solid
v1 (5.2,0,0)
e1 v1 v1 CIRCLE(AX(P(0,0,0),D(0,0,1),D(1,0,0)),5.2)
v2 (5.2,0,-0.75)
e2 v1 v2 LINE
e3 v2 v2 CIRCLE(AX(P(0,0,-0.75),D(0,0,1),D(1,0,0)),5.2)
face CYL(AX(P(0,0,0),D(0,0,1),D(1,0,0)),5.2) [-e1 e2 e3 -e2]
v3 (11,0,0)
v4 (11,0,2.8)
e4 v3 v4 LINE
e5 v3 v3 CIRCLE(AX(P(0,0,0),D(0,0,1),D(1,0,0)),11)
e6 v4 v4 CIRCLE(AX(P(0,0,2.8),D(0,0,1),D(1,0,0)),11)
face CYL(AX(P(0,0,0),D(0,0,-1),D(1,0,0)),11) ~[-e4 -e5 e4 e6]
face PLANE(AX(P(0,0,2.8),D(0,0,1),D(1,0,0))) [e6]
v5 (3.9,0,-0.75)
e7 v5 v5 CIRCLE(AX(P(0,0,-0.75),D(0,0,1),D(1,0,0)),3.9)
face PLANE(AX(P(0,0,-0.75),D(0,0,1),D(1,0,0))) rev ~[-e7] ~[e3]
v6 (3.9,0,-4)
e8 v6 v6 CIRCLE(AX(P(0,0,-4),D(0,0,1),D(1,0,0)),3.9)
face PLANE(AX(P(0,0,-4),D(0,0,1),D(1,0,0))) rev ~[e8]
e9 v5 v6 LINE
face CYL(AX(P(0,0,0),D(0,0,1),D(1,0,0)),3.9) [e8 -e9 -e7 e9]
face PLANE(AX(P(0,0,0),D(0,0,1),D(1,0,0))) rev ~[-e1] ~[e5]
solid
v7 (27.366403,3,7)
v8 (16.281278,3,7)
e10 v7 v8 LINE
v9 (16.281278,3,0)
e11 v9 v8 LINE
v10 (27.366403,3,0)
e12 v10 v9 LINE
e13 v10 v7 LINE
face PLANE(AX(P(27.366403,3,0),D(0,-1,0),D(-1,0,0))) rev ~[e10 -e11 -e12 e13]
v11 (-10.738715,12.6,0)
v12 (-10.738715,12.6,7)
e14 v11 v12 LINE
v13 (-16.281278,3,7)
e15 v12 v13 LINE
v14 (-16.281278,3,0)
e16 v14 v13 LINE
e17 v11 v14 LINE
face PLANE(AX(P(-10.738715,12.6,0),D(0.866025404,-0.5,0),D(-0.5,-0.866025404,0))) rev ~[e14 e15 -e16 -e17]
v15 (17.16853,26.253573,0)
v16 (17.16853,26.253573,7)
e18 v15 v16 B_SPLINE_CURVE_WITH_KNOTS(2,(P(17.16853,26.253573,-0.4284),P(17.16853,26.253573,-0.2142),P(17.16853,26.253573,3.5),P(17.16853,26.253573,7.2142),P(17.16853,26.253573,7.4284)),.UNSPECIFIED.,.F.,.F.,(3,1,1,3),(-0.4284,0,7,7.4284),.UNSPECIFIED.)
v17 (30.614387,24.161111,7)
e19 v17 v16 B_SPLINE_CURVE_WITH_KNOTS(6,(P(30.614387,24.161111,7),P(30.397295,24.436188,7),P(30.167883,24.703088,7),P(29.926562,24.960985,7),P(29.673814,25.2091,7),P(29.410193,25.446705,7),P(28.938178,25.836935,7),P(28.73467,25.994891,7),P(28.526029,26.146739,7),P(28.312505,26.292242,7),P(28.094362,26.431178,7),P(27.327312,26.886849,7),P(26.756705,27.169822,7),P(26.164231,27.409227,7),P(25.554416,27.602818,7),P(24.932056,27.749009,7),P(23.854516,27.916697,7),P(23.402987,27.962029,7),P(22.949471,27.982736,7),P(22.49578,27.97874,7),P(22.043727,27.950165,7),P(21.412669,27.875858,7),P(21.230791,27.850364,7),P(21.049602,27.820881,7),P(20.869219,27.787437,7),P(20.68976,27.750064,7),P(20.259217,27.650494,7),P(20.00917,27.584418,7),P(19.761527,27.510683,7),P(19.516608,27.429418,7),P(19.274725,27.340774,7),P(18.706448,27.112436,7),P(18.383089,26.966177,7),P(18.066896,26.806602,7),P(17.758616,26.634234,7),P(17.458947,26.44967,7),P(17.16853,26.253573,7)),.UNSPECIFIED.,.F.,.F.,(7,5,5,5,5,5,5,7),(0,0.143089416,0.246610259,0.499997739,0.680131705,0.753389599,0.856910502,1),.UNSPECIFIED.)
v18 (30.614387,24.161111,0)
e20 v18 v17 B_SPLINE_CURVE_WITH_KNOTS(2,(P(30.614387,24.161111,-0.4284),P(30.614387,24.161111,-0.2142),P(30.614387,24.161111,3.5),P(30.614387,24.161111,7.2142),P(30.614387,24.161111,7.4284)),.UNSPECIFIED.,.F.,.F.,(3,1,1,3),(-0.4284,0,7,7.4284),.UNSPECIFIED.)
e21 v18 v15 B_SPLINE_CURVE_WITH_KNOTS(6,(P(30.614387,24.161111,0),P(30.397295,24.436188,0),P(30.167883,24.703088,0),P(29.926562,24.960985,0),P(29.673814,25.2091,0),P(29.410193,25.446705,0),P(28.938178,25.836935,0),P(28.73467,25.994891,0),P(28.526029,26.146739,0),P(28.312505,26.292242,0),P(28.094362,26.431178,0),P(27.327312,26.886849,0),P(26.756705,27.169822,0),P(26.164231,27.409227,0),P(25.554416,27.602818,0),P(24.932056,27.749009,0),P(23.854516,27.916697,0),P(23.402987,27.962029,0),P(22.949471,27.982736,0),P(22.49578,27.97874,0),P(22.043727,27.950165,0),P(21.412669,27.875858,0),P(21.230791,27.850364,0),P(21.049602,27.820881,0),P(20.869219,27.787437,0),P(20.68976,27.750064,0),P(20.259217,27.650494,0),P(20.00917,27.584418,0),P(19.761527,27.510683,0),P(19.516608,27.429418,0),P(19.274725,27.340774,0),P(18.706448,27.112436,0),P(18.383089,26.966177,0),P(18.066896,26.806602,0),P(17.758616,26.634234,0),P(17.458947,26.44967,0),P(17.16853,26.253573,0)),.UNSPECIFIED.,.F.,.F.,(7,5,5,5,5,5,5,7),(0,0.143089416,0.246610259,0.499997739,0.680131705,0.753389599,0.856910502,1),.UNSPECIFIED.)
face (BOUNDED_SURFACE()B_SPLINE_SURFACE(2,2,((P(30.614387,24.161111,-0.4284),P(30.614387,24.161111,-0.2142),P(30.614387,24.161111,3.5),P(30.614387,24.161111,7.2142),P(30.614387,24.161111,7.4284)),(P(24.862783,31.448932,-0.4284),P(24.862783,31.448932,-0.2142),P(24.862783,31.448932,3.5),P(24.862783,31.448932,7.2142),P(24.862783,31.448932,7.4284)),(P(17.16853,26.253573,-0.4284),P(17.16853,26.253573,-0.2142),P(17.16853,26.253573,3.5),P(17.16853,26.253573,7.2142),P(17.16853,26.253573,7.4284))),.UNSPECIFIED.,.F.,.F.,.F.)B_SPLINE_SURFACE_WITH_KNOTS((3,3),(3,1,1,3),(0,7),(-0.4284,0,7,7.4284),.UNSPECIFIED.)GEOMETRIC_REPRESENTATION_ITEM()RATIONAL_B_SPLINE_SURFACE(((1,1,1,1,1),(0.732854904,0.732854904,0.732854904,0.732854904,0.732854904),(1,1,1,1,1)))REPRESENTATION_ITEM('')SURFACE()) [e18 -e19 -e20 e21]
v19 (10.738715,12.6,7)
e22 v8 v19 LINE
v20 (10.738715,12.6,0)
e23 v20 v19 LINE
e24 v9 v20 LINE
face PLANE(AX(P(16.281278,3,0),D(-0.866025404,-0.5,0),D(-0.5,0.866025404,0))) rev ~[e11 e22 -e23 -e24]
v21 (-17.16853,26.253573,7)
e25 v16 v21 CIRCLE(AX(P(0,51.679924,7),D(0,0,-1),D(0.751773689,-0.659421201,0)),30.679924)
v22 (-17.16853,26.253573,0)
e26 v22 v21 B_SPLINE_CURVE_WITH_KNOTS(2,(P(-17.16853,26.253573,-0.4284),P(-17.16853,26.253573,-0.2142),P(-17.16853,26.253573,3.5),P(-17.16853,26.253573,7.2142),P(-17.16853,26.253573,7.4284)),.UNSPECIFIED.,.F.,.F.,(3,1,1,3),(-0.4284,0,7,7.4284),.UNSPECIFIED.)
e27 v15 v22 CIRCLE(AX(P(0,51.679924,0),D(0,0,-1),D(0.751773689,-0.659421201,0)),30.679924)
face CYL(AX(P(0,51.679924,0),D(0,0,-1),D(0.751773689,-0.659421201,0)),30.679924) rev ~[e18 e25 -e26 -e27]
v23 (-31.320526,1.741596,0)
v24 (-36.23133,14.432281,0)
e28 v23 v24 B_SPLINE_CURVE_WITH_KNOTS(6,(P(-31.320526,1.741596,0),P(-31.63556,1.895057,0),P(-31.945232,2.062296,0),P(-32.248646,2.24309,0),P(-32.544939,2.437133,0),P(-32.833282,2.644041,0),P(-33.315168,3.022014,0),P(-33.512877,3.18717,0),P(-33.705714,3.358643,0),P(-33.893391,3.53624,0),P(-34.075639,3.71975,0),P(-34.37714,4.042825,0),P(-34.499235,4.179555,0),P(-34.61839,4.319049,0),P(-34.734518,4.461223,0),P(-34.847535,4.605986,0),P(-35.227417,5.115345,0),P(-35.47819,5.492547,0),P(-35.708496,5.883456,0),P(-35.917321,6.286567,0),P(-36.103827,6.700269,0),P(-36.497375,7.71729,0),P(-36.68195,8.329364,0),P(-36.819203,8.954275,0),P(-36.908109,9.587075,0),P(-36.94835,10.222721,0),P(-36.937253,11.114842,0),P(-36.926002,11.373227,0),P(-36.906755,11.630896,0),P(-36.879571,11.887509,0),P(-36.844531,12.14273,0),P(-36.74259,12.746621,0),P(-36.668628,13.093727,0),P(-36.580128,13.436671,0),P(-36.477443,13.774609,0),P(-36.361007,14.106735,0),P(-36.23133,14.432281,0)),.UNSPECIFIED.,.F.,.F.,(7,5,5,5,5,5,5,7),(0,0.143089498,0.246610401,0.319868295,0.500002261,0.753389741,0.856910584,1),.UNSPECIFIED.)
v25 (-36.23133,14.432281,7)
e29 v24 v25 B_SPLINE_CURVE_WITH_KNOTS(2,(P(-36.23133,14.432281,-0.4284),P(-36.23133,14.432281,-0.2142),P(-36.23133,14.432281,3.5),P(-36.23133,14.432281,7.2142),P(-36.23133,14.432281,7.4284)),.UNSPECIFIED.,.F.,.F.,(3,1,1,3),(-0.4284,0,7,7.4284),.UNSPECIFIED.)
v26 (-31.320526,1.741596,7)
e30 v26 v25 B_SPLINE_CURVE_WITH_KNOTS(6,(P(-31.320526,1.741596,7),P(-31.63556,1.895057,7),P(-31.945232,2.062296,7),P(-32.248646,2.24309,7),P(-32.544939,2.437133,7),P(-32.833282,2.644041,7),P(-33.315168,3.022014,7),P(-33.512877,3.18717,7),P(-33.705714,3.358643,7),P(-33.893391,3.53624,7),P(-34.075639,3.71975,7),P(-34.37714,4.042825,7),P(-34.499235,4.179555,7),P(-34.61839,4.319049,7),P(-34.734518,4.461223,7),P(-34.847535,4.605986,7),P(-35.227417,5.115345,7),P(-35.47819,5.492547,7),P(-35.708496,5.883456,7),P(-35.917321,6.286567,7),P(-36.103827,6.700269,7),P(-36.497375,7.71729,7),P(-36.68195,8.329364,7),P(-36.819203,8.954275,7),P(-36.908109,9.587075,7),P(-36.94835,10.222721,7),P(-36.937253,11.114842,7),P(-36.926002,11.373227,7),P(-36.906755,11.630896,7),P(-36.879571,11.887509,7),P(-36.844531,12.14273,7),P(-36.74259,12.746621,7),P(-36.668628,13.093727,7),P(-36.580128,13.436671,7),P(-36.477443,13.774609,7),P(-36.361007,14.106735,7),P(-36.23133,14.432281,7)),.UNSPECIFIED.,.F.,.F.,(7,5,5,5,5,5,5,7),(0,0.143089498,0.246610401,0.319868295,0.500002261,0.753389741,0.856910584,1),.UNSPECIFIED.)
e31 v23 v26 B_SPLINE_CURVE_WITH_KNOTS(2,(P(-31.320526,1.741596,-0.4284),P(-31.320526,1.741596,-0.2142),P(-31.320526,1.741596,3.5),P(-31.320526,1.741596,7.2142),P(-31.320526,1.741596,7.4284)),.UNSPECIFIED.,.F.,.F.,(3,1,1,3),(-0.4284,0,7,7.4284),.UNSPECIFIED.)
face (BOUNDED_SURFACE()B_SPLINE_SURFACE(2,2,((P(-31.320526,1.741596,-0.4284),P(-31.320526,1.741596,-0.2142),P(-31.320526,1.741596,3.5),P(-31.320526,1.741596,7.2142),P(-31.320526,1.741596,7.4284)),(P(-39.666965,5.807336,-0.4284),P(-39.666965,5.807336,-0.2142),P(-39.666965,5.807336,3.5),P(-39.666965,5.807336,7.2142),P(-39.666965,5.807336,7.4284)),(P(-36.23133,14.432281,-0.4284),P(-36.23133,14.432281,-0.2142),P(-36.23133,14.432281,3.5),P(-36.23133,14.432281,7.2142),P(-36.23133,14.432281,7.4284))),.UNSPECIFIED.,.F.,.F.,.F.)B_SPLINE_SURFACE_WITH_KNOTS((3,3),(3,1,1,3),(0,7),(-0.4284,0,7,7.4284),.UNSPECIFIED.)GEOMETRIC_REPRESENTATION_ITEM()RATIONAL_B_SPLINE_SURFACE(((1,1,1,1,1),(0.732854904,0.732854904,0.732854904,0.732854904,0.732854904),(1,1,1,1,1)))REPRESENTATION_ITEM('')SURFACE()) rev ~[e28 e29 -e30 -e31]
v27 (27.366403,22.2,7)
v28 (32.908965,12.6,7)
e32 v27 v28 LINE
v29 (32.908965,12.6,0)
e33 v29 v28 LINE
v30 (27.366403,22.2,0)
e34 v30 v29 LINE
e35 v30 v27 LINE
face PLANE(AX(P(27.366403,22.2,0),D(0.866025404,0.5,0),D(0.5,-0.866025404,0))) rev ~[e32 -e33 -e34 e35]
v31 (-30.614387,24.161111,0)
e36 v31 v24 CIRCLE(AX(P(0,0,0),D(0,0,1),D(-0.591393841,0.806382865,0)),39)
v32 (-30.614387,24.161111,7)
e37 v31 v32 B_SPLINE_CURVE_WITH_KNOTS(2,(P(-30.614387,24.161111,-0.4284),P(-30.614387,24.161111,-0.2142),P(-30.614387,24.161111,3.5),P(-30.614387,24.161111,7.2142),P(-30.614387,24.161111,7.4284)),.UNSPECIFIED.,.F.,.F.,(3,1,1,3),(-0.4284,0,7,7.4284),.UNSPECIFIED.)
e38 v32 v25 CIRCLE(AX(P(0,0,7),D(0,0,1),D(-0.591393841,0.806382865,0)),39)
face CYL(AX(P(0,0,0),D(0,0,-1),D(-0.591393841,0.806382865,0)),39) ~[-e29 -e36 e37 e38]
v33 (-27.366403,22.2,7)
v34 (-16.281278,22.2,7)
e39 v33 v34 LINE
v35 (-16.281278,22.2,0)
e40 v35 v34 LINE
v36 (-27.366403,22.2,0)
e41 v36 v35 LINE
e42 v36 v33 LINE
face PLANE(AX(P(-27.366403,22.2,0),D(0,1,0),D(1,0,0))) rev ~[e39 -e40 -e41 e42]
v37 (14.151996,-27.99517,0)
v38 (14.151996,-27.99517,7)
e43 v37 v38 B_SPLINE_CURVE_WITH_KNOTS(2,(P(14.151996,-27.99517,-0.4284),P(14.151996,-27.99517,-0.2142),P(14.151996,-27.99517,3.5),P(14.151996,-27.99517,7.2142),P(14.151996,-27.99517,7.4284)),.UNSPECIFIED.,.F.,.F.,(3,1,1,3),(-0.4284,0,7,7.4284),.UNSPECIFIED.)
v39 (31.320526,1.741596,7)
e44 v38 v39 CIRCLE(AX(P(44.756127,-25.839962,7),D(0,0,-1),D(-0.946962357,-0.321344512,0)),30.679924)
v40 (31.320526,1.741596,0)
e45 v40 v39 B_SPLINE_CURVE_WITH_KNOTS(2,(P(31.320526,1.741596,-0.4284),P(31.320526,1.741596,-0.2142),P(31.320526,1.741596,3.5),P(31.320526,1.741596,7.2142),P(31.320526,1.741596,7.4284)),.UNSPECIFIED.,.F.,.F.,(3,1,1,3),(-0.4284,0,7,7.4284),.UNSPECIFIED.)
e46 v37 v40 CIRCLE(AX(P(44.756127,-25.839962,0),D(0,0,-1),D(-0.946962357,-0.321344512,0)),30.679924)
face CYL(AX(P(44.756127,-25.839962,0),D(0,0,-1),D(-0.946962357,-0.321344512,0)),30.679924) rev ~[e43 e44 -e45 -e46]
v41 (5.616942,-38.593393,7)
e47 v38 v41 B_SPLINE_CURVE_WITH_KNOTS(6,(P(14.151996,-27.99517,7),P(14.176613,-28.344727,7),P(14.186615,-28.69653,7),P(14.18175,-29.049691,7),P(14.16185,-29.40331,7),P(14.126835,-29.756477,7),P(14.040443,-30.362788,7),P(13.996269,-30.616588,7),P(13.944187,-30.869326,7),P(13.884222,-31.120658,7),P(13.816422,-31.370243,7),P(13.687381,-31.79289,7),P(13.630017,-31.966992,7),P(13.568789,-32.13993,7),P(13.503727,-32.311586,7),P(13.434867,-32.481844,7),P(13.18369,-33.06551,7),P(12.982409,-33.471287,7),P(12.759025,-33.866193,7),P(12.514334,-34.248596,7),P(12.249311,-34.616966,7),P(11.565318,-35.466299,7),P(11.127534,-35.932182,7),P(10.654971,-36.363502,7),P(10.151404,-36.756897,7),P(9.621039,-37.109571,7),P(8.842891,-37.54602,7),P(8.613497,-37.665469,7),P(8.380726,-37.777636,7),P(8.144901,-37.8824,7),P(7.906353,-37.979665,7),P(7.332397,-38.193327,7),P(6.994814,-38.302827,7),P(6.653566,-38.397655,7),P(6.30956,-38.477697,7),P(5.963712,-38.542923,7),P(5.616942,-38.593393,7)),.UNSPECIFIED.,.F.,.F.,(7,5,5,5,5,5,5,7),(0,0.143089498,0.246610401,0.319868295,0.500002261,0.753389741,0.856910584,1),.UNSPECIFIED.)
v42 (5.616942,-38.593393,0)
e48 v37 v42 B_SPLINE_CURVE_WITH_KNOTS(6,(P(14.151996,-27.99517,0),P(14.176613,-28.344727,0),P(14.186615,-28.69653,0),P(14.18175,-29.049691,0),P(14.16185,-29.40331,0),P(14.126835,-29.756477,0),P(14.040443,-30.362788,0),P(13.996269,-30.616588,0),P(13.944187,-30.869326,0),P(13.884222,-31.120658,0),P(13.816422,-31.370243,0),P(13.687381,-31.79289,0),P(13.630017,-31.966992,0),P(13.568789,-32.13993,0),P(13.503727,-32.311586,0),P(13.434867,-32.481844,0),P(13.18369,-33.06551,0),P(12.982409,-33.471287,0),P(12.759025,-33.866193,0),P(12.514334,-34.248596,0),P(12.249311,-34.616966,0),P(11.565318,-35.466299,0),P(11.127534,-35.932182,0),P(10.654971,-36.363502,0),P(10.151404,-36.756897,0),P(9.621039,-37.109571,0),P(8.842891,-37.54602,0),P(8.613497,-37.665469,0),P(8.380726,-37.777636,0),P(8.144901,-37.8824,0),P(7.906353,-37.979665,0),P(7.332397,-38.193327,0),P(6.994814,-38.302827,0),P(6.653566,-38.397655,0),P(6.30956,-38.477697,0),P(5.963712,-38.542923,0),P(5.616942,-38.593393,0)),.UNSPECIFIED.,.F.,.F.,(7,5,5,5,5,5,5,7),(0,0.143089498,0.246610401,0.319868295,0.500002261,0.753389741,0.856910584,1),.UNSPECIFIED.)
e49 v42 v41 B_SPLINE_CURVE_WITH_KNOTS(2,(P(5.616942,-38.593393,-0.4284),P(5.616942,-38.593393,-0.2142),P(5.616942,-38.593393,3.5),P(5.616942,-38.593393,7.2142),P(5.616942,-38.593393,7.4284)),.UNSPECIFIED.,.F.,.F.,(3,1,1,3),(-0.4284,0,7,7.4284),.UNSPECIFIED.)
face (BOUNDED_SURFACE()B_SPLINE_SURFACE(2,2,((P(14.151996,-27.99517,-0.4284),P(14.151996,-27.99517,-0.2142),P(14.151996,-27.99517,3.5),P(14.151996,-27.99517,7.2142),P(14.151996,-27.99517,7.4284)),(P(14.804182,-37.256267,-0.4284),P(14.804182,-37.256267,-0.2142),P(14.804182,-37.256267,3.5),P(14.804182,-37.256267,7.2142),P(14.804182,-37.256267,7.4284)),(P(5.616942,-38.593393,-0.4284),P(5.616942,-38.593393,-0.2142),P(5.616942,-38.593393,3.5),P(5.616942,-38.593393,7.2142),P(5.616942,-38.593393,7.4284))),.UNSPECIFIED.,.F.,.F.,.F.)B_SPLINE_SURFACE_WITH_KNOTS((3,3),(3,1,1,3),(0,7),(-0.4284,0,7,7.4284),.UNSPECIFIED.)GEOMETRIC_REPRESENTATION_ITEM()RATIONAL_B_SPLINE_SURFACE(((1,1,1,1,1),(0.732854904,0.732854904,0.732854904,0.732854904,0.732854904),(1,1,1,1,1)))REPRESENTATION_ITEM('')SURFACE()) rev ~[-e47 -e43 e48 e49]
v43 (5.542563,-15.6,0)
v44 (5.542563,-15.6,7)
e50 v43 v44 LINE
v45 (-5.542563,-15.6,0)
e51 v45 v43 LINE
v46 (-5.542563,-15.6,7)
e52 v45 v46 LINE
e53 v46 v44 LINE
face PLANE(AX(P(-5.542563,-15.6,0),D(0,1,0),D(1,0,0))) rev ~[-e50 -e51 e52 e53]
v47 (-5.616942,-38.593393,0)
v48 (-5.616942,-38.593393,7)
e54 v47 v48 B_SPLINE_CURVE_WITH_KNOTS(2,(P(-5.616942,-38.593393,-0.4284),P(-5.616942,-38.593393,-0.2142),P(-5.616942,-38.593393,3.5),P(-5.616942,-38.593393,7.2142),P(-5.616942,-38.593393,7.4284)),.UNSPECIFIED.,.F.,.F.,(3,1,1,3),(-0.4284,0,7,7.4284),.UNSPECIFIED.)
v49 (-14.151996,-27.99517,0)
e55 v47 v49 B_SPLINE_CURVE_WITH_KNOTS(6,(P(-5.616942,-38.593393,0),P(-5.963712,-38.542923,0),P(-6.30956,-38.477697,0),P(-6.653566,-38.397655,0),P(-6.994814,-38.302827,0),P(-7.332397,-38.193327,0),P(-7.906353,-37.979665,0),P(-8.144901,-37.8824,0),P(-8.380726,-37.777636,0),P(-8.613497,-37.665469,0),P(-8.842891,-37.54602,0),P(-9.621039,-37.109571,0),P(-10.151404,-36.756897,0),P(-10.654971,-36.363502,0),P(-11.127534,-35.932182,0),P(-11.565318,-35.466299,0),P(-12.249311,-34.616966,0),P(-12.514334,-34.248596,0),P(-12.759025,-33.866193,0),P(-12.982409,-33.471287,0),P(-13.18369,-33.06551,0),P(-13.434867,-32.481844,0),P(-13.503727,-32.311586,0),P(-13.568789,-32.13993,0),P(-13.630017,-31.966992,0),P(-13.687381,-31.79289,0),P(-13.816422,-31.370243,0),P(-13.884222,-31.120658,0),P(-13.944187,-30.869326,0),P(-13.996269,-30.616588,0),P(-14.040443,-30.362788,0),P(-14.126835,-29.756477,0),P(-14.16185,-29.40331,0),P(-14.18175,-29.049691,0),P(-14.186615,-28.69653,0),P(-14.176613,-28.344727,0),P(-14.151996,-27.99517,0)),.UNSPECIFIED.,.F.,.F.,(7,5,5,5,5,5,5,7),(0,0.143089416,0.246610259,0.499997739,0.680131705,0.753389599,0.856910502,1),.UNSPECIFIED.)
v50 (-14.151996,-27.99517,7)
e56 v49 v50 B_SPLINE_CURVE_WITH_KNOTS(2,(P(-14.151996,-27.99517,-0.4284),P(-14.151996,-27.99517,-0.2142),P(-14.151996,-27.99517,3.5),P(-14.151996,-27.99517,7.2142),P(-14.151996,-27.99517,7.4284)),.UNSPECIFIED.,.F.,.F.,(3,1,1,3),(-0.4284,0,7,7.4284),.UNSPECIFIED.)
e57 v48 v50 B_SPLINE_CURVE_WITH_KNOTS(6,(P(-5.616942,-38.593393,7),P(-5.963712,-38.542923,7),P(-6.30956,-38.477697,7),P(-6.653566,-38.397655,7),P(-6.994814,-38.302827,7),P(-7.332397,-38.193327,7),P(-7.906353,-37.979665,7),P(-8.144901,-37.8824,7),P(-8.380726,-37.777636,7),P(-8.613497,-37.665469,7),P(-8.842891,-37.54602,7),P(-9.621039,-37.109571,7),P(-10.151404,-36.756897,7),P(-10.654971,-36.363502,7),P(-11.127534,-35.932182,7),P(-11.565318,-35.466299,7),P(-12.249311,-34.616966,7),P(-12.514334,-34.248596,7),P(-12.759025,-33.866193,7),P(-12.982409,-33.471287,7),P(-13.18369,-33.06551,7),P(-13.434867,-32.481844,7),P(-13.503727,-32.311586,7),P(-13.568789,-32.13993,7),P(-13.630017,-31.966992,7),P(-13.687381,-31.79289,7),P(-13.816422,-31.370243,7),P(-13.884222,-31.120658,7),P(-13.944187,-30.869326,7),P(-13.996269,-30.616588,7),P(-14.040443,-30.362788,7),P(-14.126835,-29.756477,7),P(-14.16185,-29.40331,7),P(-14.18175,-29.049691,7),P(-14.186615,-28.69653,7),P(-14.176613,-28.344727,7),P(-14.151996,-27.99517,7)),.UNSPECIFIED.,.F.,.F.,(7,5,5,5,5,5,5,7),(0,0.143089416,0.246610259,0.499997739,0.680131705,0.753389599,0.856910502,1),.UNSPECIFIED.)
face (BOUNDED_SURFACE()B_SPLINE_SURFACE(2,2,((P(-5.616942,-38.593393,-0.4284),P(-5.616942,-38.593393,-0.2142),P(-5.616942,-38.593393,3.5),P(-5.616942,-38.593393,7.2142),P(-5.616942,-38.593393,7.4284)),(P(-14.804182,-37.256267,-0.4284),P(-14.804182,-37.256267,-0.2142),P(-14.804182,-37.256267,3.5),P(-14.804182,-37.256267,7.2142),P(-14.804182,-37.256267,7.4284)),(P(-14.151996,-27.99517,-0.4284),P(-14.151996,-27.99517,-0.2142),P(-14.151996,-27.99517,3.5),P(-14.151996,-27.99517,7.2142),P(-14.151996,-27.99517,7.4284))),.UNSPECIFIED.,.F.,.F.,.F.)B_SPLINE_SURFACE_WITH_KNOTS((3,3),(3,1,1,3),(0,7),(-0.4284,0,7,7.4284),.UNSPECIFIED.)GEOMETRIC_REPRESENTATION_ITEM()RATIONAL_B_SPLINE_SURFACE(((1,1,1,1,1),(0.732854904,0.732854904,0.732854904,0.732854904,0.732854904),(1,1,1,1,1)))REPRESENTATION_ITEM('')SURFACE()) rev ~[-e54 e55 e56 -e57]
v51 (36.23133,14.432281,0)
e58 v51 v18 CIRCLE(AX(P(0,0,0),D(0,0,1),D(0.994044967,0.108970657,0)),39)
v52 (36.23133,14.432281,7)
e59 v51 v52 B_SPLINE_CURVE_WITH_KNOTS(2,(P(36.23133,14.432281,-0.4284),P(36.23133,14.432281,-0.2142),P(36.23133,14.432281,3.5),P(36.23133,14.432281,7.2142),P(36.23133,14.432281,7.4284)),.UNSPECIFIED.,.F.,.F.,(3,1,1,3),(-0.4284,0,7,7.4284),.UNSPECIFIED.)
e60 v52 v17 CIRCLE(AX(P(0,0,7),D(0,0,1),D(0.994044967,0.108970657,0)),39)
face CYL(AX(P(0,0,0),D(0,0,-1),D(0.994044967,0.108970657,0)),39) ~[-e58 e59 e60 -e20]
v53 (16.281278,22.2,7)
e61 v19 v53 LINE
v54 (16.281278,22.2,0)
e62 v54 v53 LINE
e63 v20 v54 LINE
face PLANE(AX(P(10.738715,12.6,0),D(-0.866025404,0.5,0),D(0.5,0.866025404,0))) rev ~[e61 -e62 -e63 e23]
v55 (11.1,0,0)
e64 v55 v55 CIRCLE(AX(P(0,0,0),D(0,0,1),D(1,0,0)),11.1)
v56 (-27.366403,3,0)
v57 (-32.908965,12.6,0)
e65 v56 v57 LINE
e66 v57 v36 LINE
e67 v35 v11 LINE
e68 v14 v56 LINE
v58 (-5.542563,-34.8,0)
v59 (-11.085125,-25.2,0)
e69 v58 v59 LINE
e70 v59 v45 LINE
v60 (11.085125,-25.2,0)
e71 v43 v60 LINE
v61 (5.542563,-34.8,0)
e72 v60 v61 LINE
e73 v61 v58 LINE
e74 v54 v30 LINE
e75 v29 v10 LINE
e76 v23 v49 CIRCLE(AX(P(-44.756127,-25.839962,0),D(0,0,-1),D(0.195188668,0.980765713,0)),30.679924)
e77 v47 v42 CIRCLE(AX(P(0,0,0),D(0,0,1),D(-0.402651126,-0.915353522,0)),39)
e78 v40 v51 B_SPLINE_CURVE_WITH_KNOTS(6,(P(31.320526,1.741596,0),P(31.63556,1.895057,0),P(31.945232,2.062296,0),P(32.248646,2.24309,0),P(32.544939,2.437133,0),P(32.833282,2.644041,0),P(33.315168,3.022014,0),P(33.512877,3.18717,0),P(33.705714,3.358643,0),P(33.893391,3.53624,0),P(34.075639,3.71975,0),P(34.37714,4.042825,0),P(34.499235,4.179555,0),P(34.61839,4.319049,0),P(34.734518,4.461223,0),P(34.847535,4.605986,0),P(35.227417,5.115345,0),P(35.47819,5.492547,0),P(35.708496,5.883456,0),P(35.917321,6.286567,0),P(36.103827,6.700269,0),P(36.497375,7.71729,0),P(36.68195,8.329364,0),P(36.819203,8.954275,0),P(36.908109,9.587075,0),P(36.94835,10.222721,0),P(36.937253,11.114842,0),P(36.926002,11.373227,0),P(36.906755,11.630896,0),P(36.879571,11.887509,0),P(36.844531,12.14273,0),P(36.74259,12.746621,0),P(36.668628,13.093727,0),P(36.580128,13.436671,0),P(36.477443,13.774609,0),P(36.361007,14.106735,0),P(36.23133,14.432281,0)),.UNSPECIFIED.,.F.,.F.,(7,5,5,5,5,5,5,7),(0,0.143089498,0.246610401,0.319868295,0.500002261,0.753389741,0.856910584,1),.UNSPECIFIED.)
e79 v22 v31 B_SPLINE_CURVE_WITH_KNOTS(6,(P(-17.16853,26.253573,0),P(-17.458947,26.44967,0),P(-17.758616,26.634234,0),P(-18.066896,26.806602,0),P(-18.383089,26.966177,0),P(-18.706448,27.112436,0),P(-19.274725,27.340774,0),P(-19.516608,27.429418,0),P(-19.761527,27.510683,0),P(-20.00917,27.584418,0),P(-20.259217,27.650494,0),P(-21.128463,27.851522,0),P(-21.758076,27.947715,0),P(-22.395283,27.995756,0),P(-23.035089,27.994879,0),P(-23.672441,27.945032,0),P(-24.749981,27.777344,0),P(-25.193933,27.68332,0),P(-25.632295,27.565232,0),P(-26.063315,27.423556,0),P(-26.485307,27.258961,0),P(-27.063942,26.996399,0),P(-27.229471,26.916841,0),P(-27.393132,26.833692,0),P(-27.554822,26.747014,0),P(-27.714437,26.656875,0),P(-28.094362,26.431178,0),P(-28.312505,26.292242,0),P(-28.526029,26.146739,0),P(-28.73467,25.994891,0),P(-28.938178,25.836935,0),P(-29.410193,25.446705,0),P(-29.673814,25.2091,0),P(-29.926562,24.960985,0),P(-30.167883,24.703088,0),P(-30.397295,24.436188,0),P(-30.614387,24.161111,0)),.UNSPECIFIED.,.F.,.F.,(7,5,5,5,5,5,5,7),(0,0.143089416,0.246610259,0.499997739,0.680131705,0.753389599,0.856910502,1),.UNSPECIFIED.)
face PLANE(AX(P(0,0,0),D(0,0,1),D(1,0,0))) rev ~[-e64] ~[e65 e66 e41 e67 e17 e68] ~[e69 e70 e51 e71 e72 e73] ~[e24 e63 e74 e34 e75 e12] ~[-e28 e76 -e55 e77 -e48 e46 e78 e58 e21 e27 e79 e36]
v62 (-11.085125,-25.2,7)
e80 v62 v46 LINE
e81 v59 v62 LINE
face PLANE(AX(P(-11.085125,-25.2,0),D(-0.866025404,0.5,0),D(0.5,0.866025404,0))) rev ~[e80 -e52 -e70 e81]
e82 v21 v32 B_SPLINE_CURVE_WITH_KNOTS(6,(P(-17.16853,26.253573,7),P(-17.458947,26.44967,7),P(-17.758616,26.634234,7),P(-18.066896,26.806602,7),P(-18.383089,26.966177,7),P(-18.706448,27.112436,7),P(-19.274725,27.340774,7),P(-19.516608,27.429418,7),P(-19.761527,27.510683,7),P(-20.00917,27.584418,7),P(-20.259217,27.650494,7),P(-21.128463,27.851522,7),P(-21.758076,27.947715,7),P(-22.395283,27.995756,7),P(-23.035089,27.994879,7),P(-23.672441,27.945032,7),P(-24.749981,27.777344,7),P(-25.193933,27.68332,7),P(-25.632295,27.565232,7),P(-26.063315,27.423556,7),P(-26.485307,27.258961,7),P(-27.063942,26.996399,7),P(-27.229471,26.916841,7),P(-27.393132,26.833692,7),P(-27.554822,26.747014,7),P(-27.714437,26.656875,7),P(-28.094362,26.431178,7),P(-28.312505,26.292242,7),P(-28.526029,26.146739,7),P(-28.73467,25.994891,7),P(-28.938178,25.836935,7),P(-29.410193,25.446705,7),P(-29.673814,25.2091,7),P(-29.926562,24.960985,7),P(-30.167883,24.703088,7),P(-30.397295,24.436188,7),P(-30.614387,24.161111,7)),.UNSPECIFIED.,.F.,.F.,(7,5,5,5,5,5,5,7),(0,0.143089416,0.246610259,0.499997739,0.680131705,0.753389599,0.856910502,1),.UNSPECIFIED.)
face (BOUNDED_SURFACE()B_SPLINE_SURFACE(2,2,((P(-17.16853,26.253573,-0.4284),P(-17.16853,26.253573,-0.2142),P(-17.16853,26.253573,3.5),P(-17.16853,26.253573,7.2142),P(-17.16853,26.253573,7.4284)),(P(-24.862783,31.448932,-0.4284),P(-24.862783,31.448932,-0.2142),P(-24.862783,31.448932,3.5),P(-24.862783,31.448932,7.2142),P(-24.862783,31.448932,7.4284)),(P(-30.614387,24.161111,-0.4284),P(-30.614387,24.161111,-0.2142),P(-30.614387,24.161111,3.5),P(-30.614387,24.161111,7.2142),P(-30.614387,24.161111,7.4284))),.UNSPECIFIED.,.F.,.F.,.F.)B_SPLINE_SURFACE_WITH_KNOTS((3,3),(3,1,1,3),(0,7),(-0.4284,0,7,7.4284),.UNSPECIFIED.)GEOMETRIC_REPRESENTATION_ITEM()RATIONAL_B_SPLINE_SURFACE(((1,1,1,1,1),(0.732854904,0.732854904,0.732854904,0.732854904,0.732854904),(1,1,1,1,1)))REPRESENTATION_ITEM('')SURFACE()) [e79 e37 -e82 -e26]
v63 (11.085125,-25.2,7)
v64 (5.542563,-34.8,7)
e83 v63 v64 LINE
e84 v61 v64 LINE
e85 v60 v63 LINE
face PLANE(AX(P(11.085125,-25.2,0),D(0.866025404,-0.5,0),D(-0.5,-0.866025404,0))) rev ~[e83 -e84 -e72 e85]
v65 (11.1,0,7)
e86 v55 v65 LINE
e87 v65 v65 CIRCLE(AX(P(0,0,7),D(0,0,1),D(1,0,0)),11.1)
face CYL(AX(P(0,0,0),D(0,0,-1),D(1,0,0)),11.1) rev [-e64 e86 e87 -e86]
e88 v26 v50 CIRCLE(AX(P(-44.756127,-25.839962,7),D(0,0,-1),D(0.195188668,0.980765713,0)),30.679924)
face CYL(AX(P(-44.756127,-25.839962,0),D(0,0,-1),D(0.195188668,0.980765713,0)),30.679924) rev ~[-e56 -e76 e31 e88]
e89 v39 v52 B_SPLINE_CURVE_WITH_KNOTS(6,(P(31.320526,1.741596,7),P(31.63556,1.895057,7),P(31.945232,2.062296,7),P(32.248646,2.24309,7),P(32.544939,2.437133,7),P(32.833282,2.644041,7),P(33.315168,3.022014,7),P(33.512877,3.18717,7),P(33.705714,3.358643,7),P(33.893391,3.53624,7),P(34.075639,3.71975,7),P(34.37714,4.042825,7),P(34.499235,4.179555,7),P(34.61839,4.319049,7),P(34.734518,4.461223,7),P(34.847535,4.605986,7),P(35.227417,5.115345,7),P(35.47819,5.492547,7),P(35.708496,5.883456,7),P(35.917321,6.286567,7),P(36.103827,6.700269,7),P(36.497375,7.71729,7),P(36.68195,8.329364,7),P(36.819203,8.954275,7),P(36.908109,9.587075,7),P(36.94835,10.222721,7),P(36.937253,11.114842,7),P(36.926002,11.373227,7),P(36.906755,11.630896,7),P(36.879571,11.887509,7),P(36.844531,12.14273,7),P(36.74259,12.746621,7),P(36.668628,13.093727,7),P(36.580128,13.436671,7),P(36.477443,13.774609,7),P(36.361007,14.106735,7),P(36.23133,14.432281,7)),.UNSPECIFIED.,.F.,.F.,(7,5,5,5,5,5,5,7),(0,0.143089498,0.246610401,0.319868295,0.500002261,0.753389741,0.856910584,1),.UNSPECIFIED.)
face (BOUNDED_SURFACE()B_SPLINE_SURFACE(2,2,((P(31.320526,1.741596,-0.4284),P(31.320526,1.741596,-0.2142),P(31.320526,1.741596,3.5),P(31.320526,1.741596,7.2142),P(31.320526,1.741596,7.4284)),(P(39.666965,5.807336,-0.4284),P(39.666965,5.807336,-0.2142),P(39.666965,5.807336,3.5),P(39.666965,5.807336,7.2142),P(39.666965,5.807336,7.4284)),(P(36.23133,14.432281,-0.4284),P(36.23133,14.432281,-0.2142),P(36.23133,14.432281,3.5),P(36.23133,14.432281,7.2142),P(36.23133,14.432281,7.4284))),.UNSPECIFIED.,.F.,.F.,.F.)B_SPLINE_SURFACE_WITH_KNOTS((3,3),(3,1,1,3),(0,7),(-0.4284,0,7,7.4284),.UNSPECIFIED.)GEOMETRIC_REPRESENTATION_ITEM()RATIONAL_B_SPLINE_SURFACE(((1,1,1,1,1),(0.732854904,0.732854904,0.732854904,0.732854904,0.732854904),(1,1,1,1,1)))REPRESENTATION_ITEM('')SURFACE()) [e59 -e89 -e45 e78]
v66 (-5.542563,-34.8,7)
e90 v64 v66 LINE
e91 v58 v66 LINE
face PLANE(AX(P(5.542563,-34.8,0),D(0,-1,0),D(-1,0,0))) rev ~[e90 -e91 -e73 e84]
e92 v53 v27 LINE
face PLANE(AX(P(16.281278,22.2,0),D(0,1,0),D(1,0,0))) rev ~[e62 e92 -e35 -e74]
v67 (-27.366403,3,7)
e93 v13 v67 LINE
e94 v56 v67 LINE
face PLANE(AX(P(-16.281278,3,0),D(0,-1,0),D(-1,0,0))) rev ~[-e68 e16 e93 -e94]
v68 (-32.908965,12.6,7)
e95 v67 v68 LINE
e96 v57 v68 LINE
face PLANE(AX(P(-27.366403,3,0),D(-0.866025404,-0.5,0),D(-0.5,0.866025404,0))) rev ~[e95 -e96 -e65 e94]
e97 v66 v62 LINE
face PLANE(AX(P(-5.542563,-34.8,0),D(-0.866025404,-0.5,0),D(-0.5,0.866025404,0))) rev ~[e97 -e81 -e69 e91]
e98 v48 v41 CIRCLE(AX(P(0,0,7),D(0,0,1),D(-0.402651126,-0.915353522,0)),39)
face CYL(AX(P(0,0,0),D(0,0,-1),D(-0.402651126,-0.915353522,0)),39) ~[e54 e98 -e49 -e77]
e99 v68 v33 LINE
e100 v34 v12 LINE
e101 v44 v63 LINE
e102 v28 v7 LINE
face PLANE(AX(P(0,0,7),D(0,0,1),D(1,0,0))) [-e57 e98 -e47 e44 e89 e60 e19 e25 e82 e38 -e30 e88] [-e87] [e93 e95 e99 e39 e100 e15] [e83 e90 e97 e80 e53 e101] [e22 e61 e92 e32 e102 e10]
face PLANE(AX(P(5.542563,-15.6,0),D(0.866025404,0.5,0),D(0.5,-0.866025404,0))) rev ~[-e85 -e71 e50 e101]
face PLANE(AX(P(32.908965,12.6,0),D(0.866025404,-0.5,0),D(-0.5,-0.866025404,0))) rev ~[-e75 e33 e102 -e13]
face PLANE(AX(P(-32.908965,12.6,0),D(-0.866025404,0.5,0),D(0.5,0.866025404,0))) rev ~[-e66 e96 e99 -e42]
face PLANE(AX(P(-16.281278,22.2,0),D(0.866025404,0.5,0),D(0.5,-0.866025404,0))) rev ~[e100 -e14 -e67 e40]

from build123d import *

# Parameters (mm, degrees)
F0_R     = 11.1
F1_DEPTH = 7
F2_R     = 10
F3_R     = 11
F3_R_2   = 3.9
F4_DEPTH = 2.8
F5_DEPTH = 4
F6_R     = 5.2
F6_R_2   = 3.9
F7_DEPTH = 0.75


with BuildPart() as f1:
    # F0 (on Top) → F1 (new body)
    with BuildSketch(Plane.XY):
        with BuildLine():
            ThreePointArc((15.7033939043, -35.6987873728), (18.1865334795, -10.5), (38.7677537013, 4.2498556396))
            ThreePointArc((38.7677537013, 4.2498556396), (33.7749907476, 19.5), (23.064359797, 31.4489317332))
            ThreePointArc((23.064359797, 31.4489317332), (0, 21), (-23.064359797, 31.4489317332))
            ThreePointArc((-23.064359797, 31.4489317332), (-33.7749907476, 19.5), (-38.7677537013, 4.2498556396))
            ThreePointArc((-38.7677537013, 4.2498556396), (-18.1865334795, -10.5), (-15.7033939043, -35.6987873728))
            ThreePointArc((-15.7033939043, -35.6987873728), (0, -39), (15.7033939043, -35.6987873728))
        make_face()
        Polygon((-5.5425625842, -15.6), (5.5425625842, -15.6), (11.0851251684, -25.2), (5.5425625842, -34.8), (-5.5425625842, -34.8), (-11.0851251684, -25.2), align=None, mode=Mode.SUBTRACT)
        Polygon((-27.3664027596, 3), (-32.9089653438, 12.6), (-27.3664027596, 22.2), (-16.2812775911, 22.2), (-10.7387150069, 12.6), (-16.2812775911, 3), align=None, mode=Mode.SUBTRACT)
        Circle(F0_R, mode=Mode.SUBTRACT)
        Polygon((16.2812775911, 22.2), (27.3664027596, 22.2), (32.9089653438, 12.6), (27.3664027596, 3), (16.2812775911, 3), (10.7387150069, 12.6), align=None, mode=Mode.SUBTRACT)
    extrude(amount=F1_DEPTH)

    # F2
    f2_edges = [f1.edges().sort_by_distance(p)[0] for p in [
        (-38.767754, 4.249856, 3.5),
        (-23.06436, 31.448932, 3.5),
        (23.06436, 31.448932, 3.5),
        (38.767754, 4.249856, 3.5),
        (15.703394, -35.698787, 3.5),
        (-15.703394, -35.698787, 3.5),
    ]]
    fillet(f2_edges, radius=F2_R)


with BuildPart() as f4:
    # F3 (on Top) → F4 (new body)
    with BuildSketch(Plane.XY):
        Circle(F3_R)
        Circle(F3_R_2, mode=Mode.SUBTRACT)
        Circle(F3_R_2)
    extrude(amount=F4_DEPTH)

    # F3 (on Top) → F5 (join)
    with BuildSketch(Plane.XY):
        Circle(F3_R_2)
    extrude(amount=-F5_DEPTH)

    # F6 (on face) → F7 (join)
    with BuildSketch(Plane.XY):
        Circle(F6_R)
        Circle(F6_R_2, mode=Mode.SUBTRACT)
    extrude(amount=-F7_DEPTH)


solid = Compound([f1.part, f4.part])
